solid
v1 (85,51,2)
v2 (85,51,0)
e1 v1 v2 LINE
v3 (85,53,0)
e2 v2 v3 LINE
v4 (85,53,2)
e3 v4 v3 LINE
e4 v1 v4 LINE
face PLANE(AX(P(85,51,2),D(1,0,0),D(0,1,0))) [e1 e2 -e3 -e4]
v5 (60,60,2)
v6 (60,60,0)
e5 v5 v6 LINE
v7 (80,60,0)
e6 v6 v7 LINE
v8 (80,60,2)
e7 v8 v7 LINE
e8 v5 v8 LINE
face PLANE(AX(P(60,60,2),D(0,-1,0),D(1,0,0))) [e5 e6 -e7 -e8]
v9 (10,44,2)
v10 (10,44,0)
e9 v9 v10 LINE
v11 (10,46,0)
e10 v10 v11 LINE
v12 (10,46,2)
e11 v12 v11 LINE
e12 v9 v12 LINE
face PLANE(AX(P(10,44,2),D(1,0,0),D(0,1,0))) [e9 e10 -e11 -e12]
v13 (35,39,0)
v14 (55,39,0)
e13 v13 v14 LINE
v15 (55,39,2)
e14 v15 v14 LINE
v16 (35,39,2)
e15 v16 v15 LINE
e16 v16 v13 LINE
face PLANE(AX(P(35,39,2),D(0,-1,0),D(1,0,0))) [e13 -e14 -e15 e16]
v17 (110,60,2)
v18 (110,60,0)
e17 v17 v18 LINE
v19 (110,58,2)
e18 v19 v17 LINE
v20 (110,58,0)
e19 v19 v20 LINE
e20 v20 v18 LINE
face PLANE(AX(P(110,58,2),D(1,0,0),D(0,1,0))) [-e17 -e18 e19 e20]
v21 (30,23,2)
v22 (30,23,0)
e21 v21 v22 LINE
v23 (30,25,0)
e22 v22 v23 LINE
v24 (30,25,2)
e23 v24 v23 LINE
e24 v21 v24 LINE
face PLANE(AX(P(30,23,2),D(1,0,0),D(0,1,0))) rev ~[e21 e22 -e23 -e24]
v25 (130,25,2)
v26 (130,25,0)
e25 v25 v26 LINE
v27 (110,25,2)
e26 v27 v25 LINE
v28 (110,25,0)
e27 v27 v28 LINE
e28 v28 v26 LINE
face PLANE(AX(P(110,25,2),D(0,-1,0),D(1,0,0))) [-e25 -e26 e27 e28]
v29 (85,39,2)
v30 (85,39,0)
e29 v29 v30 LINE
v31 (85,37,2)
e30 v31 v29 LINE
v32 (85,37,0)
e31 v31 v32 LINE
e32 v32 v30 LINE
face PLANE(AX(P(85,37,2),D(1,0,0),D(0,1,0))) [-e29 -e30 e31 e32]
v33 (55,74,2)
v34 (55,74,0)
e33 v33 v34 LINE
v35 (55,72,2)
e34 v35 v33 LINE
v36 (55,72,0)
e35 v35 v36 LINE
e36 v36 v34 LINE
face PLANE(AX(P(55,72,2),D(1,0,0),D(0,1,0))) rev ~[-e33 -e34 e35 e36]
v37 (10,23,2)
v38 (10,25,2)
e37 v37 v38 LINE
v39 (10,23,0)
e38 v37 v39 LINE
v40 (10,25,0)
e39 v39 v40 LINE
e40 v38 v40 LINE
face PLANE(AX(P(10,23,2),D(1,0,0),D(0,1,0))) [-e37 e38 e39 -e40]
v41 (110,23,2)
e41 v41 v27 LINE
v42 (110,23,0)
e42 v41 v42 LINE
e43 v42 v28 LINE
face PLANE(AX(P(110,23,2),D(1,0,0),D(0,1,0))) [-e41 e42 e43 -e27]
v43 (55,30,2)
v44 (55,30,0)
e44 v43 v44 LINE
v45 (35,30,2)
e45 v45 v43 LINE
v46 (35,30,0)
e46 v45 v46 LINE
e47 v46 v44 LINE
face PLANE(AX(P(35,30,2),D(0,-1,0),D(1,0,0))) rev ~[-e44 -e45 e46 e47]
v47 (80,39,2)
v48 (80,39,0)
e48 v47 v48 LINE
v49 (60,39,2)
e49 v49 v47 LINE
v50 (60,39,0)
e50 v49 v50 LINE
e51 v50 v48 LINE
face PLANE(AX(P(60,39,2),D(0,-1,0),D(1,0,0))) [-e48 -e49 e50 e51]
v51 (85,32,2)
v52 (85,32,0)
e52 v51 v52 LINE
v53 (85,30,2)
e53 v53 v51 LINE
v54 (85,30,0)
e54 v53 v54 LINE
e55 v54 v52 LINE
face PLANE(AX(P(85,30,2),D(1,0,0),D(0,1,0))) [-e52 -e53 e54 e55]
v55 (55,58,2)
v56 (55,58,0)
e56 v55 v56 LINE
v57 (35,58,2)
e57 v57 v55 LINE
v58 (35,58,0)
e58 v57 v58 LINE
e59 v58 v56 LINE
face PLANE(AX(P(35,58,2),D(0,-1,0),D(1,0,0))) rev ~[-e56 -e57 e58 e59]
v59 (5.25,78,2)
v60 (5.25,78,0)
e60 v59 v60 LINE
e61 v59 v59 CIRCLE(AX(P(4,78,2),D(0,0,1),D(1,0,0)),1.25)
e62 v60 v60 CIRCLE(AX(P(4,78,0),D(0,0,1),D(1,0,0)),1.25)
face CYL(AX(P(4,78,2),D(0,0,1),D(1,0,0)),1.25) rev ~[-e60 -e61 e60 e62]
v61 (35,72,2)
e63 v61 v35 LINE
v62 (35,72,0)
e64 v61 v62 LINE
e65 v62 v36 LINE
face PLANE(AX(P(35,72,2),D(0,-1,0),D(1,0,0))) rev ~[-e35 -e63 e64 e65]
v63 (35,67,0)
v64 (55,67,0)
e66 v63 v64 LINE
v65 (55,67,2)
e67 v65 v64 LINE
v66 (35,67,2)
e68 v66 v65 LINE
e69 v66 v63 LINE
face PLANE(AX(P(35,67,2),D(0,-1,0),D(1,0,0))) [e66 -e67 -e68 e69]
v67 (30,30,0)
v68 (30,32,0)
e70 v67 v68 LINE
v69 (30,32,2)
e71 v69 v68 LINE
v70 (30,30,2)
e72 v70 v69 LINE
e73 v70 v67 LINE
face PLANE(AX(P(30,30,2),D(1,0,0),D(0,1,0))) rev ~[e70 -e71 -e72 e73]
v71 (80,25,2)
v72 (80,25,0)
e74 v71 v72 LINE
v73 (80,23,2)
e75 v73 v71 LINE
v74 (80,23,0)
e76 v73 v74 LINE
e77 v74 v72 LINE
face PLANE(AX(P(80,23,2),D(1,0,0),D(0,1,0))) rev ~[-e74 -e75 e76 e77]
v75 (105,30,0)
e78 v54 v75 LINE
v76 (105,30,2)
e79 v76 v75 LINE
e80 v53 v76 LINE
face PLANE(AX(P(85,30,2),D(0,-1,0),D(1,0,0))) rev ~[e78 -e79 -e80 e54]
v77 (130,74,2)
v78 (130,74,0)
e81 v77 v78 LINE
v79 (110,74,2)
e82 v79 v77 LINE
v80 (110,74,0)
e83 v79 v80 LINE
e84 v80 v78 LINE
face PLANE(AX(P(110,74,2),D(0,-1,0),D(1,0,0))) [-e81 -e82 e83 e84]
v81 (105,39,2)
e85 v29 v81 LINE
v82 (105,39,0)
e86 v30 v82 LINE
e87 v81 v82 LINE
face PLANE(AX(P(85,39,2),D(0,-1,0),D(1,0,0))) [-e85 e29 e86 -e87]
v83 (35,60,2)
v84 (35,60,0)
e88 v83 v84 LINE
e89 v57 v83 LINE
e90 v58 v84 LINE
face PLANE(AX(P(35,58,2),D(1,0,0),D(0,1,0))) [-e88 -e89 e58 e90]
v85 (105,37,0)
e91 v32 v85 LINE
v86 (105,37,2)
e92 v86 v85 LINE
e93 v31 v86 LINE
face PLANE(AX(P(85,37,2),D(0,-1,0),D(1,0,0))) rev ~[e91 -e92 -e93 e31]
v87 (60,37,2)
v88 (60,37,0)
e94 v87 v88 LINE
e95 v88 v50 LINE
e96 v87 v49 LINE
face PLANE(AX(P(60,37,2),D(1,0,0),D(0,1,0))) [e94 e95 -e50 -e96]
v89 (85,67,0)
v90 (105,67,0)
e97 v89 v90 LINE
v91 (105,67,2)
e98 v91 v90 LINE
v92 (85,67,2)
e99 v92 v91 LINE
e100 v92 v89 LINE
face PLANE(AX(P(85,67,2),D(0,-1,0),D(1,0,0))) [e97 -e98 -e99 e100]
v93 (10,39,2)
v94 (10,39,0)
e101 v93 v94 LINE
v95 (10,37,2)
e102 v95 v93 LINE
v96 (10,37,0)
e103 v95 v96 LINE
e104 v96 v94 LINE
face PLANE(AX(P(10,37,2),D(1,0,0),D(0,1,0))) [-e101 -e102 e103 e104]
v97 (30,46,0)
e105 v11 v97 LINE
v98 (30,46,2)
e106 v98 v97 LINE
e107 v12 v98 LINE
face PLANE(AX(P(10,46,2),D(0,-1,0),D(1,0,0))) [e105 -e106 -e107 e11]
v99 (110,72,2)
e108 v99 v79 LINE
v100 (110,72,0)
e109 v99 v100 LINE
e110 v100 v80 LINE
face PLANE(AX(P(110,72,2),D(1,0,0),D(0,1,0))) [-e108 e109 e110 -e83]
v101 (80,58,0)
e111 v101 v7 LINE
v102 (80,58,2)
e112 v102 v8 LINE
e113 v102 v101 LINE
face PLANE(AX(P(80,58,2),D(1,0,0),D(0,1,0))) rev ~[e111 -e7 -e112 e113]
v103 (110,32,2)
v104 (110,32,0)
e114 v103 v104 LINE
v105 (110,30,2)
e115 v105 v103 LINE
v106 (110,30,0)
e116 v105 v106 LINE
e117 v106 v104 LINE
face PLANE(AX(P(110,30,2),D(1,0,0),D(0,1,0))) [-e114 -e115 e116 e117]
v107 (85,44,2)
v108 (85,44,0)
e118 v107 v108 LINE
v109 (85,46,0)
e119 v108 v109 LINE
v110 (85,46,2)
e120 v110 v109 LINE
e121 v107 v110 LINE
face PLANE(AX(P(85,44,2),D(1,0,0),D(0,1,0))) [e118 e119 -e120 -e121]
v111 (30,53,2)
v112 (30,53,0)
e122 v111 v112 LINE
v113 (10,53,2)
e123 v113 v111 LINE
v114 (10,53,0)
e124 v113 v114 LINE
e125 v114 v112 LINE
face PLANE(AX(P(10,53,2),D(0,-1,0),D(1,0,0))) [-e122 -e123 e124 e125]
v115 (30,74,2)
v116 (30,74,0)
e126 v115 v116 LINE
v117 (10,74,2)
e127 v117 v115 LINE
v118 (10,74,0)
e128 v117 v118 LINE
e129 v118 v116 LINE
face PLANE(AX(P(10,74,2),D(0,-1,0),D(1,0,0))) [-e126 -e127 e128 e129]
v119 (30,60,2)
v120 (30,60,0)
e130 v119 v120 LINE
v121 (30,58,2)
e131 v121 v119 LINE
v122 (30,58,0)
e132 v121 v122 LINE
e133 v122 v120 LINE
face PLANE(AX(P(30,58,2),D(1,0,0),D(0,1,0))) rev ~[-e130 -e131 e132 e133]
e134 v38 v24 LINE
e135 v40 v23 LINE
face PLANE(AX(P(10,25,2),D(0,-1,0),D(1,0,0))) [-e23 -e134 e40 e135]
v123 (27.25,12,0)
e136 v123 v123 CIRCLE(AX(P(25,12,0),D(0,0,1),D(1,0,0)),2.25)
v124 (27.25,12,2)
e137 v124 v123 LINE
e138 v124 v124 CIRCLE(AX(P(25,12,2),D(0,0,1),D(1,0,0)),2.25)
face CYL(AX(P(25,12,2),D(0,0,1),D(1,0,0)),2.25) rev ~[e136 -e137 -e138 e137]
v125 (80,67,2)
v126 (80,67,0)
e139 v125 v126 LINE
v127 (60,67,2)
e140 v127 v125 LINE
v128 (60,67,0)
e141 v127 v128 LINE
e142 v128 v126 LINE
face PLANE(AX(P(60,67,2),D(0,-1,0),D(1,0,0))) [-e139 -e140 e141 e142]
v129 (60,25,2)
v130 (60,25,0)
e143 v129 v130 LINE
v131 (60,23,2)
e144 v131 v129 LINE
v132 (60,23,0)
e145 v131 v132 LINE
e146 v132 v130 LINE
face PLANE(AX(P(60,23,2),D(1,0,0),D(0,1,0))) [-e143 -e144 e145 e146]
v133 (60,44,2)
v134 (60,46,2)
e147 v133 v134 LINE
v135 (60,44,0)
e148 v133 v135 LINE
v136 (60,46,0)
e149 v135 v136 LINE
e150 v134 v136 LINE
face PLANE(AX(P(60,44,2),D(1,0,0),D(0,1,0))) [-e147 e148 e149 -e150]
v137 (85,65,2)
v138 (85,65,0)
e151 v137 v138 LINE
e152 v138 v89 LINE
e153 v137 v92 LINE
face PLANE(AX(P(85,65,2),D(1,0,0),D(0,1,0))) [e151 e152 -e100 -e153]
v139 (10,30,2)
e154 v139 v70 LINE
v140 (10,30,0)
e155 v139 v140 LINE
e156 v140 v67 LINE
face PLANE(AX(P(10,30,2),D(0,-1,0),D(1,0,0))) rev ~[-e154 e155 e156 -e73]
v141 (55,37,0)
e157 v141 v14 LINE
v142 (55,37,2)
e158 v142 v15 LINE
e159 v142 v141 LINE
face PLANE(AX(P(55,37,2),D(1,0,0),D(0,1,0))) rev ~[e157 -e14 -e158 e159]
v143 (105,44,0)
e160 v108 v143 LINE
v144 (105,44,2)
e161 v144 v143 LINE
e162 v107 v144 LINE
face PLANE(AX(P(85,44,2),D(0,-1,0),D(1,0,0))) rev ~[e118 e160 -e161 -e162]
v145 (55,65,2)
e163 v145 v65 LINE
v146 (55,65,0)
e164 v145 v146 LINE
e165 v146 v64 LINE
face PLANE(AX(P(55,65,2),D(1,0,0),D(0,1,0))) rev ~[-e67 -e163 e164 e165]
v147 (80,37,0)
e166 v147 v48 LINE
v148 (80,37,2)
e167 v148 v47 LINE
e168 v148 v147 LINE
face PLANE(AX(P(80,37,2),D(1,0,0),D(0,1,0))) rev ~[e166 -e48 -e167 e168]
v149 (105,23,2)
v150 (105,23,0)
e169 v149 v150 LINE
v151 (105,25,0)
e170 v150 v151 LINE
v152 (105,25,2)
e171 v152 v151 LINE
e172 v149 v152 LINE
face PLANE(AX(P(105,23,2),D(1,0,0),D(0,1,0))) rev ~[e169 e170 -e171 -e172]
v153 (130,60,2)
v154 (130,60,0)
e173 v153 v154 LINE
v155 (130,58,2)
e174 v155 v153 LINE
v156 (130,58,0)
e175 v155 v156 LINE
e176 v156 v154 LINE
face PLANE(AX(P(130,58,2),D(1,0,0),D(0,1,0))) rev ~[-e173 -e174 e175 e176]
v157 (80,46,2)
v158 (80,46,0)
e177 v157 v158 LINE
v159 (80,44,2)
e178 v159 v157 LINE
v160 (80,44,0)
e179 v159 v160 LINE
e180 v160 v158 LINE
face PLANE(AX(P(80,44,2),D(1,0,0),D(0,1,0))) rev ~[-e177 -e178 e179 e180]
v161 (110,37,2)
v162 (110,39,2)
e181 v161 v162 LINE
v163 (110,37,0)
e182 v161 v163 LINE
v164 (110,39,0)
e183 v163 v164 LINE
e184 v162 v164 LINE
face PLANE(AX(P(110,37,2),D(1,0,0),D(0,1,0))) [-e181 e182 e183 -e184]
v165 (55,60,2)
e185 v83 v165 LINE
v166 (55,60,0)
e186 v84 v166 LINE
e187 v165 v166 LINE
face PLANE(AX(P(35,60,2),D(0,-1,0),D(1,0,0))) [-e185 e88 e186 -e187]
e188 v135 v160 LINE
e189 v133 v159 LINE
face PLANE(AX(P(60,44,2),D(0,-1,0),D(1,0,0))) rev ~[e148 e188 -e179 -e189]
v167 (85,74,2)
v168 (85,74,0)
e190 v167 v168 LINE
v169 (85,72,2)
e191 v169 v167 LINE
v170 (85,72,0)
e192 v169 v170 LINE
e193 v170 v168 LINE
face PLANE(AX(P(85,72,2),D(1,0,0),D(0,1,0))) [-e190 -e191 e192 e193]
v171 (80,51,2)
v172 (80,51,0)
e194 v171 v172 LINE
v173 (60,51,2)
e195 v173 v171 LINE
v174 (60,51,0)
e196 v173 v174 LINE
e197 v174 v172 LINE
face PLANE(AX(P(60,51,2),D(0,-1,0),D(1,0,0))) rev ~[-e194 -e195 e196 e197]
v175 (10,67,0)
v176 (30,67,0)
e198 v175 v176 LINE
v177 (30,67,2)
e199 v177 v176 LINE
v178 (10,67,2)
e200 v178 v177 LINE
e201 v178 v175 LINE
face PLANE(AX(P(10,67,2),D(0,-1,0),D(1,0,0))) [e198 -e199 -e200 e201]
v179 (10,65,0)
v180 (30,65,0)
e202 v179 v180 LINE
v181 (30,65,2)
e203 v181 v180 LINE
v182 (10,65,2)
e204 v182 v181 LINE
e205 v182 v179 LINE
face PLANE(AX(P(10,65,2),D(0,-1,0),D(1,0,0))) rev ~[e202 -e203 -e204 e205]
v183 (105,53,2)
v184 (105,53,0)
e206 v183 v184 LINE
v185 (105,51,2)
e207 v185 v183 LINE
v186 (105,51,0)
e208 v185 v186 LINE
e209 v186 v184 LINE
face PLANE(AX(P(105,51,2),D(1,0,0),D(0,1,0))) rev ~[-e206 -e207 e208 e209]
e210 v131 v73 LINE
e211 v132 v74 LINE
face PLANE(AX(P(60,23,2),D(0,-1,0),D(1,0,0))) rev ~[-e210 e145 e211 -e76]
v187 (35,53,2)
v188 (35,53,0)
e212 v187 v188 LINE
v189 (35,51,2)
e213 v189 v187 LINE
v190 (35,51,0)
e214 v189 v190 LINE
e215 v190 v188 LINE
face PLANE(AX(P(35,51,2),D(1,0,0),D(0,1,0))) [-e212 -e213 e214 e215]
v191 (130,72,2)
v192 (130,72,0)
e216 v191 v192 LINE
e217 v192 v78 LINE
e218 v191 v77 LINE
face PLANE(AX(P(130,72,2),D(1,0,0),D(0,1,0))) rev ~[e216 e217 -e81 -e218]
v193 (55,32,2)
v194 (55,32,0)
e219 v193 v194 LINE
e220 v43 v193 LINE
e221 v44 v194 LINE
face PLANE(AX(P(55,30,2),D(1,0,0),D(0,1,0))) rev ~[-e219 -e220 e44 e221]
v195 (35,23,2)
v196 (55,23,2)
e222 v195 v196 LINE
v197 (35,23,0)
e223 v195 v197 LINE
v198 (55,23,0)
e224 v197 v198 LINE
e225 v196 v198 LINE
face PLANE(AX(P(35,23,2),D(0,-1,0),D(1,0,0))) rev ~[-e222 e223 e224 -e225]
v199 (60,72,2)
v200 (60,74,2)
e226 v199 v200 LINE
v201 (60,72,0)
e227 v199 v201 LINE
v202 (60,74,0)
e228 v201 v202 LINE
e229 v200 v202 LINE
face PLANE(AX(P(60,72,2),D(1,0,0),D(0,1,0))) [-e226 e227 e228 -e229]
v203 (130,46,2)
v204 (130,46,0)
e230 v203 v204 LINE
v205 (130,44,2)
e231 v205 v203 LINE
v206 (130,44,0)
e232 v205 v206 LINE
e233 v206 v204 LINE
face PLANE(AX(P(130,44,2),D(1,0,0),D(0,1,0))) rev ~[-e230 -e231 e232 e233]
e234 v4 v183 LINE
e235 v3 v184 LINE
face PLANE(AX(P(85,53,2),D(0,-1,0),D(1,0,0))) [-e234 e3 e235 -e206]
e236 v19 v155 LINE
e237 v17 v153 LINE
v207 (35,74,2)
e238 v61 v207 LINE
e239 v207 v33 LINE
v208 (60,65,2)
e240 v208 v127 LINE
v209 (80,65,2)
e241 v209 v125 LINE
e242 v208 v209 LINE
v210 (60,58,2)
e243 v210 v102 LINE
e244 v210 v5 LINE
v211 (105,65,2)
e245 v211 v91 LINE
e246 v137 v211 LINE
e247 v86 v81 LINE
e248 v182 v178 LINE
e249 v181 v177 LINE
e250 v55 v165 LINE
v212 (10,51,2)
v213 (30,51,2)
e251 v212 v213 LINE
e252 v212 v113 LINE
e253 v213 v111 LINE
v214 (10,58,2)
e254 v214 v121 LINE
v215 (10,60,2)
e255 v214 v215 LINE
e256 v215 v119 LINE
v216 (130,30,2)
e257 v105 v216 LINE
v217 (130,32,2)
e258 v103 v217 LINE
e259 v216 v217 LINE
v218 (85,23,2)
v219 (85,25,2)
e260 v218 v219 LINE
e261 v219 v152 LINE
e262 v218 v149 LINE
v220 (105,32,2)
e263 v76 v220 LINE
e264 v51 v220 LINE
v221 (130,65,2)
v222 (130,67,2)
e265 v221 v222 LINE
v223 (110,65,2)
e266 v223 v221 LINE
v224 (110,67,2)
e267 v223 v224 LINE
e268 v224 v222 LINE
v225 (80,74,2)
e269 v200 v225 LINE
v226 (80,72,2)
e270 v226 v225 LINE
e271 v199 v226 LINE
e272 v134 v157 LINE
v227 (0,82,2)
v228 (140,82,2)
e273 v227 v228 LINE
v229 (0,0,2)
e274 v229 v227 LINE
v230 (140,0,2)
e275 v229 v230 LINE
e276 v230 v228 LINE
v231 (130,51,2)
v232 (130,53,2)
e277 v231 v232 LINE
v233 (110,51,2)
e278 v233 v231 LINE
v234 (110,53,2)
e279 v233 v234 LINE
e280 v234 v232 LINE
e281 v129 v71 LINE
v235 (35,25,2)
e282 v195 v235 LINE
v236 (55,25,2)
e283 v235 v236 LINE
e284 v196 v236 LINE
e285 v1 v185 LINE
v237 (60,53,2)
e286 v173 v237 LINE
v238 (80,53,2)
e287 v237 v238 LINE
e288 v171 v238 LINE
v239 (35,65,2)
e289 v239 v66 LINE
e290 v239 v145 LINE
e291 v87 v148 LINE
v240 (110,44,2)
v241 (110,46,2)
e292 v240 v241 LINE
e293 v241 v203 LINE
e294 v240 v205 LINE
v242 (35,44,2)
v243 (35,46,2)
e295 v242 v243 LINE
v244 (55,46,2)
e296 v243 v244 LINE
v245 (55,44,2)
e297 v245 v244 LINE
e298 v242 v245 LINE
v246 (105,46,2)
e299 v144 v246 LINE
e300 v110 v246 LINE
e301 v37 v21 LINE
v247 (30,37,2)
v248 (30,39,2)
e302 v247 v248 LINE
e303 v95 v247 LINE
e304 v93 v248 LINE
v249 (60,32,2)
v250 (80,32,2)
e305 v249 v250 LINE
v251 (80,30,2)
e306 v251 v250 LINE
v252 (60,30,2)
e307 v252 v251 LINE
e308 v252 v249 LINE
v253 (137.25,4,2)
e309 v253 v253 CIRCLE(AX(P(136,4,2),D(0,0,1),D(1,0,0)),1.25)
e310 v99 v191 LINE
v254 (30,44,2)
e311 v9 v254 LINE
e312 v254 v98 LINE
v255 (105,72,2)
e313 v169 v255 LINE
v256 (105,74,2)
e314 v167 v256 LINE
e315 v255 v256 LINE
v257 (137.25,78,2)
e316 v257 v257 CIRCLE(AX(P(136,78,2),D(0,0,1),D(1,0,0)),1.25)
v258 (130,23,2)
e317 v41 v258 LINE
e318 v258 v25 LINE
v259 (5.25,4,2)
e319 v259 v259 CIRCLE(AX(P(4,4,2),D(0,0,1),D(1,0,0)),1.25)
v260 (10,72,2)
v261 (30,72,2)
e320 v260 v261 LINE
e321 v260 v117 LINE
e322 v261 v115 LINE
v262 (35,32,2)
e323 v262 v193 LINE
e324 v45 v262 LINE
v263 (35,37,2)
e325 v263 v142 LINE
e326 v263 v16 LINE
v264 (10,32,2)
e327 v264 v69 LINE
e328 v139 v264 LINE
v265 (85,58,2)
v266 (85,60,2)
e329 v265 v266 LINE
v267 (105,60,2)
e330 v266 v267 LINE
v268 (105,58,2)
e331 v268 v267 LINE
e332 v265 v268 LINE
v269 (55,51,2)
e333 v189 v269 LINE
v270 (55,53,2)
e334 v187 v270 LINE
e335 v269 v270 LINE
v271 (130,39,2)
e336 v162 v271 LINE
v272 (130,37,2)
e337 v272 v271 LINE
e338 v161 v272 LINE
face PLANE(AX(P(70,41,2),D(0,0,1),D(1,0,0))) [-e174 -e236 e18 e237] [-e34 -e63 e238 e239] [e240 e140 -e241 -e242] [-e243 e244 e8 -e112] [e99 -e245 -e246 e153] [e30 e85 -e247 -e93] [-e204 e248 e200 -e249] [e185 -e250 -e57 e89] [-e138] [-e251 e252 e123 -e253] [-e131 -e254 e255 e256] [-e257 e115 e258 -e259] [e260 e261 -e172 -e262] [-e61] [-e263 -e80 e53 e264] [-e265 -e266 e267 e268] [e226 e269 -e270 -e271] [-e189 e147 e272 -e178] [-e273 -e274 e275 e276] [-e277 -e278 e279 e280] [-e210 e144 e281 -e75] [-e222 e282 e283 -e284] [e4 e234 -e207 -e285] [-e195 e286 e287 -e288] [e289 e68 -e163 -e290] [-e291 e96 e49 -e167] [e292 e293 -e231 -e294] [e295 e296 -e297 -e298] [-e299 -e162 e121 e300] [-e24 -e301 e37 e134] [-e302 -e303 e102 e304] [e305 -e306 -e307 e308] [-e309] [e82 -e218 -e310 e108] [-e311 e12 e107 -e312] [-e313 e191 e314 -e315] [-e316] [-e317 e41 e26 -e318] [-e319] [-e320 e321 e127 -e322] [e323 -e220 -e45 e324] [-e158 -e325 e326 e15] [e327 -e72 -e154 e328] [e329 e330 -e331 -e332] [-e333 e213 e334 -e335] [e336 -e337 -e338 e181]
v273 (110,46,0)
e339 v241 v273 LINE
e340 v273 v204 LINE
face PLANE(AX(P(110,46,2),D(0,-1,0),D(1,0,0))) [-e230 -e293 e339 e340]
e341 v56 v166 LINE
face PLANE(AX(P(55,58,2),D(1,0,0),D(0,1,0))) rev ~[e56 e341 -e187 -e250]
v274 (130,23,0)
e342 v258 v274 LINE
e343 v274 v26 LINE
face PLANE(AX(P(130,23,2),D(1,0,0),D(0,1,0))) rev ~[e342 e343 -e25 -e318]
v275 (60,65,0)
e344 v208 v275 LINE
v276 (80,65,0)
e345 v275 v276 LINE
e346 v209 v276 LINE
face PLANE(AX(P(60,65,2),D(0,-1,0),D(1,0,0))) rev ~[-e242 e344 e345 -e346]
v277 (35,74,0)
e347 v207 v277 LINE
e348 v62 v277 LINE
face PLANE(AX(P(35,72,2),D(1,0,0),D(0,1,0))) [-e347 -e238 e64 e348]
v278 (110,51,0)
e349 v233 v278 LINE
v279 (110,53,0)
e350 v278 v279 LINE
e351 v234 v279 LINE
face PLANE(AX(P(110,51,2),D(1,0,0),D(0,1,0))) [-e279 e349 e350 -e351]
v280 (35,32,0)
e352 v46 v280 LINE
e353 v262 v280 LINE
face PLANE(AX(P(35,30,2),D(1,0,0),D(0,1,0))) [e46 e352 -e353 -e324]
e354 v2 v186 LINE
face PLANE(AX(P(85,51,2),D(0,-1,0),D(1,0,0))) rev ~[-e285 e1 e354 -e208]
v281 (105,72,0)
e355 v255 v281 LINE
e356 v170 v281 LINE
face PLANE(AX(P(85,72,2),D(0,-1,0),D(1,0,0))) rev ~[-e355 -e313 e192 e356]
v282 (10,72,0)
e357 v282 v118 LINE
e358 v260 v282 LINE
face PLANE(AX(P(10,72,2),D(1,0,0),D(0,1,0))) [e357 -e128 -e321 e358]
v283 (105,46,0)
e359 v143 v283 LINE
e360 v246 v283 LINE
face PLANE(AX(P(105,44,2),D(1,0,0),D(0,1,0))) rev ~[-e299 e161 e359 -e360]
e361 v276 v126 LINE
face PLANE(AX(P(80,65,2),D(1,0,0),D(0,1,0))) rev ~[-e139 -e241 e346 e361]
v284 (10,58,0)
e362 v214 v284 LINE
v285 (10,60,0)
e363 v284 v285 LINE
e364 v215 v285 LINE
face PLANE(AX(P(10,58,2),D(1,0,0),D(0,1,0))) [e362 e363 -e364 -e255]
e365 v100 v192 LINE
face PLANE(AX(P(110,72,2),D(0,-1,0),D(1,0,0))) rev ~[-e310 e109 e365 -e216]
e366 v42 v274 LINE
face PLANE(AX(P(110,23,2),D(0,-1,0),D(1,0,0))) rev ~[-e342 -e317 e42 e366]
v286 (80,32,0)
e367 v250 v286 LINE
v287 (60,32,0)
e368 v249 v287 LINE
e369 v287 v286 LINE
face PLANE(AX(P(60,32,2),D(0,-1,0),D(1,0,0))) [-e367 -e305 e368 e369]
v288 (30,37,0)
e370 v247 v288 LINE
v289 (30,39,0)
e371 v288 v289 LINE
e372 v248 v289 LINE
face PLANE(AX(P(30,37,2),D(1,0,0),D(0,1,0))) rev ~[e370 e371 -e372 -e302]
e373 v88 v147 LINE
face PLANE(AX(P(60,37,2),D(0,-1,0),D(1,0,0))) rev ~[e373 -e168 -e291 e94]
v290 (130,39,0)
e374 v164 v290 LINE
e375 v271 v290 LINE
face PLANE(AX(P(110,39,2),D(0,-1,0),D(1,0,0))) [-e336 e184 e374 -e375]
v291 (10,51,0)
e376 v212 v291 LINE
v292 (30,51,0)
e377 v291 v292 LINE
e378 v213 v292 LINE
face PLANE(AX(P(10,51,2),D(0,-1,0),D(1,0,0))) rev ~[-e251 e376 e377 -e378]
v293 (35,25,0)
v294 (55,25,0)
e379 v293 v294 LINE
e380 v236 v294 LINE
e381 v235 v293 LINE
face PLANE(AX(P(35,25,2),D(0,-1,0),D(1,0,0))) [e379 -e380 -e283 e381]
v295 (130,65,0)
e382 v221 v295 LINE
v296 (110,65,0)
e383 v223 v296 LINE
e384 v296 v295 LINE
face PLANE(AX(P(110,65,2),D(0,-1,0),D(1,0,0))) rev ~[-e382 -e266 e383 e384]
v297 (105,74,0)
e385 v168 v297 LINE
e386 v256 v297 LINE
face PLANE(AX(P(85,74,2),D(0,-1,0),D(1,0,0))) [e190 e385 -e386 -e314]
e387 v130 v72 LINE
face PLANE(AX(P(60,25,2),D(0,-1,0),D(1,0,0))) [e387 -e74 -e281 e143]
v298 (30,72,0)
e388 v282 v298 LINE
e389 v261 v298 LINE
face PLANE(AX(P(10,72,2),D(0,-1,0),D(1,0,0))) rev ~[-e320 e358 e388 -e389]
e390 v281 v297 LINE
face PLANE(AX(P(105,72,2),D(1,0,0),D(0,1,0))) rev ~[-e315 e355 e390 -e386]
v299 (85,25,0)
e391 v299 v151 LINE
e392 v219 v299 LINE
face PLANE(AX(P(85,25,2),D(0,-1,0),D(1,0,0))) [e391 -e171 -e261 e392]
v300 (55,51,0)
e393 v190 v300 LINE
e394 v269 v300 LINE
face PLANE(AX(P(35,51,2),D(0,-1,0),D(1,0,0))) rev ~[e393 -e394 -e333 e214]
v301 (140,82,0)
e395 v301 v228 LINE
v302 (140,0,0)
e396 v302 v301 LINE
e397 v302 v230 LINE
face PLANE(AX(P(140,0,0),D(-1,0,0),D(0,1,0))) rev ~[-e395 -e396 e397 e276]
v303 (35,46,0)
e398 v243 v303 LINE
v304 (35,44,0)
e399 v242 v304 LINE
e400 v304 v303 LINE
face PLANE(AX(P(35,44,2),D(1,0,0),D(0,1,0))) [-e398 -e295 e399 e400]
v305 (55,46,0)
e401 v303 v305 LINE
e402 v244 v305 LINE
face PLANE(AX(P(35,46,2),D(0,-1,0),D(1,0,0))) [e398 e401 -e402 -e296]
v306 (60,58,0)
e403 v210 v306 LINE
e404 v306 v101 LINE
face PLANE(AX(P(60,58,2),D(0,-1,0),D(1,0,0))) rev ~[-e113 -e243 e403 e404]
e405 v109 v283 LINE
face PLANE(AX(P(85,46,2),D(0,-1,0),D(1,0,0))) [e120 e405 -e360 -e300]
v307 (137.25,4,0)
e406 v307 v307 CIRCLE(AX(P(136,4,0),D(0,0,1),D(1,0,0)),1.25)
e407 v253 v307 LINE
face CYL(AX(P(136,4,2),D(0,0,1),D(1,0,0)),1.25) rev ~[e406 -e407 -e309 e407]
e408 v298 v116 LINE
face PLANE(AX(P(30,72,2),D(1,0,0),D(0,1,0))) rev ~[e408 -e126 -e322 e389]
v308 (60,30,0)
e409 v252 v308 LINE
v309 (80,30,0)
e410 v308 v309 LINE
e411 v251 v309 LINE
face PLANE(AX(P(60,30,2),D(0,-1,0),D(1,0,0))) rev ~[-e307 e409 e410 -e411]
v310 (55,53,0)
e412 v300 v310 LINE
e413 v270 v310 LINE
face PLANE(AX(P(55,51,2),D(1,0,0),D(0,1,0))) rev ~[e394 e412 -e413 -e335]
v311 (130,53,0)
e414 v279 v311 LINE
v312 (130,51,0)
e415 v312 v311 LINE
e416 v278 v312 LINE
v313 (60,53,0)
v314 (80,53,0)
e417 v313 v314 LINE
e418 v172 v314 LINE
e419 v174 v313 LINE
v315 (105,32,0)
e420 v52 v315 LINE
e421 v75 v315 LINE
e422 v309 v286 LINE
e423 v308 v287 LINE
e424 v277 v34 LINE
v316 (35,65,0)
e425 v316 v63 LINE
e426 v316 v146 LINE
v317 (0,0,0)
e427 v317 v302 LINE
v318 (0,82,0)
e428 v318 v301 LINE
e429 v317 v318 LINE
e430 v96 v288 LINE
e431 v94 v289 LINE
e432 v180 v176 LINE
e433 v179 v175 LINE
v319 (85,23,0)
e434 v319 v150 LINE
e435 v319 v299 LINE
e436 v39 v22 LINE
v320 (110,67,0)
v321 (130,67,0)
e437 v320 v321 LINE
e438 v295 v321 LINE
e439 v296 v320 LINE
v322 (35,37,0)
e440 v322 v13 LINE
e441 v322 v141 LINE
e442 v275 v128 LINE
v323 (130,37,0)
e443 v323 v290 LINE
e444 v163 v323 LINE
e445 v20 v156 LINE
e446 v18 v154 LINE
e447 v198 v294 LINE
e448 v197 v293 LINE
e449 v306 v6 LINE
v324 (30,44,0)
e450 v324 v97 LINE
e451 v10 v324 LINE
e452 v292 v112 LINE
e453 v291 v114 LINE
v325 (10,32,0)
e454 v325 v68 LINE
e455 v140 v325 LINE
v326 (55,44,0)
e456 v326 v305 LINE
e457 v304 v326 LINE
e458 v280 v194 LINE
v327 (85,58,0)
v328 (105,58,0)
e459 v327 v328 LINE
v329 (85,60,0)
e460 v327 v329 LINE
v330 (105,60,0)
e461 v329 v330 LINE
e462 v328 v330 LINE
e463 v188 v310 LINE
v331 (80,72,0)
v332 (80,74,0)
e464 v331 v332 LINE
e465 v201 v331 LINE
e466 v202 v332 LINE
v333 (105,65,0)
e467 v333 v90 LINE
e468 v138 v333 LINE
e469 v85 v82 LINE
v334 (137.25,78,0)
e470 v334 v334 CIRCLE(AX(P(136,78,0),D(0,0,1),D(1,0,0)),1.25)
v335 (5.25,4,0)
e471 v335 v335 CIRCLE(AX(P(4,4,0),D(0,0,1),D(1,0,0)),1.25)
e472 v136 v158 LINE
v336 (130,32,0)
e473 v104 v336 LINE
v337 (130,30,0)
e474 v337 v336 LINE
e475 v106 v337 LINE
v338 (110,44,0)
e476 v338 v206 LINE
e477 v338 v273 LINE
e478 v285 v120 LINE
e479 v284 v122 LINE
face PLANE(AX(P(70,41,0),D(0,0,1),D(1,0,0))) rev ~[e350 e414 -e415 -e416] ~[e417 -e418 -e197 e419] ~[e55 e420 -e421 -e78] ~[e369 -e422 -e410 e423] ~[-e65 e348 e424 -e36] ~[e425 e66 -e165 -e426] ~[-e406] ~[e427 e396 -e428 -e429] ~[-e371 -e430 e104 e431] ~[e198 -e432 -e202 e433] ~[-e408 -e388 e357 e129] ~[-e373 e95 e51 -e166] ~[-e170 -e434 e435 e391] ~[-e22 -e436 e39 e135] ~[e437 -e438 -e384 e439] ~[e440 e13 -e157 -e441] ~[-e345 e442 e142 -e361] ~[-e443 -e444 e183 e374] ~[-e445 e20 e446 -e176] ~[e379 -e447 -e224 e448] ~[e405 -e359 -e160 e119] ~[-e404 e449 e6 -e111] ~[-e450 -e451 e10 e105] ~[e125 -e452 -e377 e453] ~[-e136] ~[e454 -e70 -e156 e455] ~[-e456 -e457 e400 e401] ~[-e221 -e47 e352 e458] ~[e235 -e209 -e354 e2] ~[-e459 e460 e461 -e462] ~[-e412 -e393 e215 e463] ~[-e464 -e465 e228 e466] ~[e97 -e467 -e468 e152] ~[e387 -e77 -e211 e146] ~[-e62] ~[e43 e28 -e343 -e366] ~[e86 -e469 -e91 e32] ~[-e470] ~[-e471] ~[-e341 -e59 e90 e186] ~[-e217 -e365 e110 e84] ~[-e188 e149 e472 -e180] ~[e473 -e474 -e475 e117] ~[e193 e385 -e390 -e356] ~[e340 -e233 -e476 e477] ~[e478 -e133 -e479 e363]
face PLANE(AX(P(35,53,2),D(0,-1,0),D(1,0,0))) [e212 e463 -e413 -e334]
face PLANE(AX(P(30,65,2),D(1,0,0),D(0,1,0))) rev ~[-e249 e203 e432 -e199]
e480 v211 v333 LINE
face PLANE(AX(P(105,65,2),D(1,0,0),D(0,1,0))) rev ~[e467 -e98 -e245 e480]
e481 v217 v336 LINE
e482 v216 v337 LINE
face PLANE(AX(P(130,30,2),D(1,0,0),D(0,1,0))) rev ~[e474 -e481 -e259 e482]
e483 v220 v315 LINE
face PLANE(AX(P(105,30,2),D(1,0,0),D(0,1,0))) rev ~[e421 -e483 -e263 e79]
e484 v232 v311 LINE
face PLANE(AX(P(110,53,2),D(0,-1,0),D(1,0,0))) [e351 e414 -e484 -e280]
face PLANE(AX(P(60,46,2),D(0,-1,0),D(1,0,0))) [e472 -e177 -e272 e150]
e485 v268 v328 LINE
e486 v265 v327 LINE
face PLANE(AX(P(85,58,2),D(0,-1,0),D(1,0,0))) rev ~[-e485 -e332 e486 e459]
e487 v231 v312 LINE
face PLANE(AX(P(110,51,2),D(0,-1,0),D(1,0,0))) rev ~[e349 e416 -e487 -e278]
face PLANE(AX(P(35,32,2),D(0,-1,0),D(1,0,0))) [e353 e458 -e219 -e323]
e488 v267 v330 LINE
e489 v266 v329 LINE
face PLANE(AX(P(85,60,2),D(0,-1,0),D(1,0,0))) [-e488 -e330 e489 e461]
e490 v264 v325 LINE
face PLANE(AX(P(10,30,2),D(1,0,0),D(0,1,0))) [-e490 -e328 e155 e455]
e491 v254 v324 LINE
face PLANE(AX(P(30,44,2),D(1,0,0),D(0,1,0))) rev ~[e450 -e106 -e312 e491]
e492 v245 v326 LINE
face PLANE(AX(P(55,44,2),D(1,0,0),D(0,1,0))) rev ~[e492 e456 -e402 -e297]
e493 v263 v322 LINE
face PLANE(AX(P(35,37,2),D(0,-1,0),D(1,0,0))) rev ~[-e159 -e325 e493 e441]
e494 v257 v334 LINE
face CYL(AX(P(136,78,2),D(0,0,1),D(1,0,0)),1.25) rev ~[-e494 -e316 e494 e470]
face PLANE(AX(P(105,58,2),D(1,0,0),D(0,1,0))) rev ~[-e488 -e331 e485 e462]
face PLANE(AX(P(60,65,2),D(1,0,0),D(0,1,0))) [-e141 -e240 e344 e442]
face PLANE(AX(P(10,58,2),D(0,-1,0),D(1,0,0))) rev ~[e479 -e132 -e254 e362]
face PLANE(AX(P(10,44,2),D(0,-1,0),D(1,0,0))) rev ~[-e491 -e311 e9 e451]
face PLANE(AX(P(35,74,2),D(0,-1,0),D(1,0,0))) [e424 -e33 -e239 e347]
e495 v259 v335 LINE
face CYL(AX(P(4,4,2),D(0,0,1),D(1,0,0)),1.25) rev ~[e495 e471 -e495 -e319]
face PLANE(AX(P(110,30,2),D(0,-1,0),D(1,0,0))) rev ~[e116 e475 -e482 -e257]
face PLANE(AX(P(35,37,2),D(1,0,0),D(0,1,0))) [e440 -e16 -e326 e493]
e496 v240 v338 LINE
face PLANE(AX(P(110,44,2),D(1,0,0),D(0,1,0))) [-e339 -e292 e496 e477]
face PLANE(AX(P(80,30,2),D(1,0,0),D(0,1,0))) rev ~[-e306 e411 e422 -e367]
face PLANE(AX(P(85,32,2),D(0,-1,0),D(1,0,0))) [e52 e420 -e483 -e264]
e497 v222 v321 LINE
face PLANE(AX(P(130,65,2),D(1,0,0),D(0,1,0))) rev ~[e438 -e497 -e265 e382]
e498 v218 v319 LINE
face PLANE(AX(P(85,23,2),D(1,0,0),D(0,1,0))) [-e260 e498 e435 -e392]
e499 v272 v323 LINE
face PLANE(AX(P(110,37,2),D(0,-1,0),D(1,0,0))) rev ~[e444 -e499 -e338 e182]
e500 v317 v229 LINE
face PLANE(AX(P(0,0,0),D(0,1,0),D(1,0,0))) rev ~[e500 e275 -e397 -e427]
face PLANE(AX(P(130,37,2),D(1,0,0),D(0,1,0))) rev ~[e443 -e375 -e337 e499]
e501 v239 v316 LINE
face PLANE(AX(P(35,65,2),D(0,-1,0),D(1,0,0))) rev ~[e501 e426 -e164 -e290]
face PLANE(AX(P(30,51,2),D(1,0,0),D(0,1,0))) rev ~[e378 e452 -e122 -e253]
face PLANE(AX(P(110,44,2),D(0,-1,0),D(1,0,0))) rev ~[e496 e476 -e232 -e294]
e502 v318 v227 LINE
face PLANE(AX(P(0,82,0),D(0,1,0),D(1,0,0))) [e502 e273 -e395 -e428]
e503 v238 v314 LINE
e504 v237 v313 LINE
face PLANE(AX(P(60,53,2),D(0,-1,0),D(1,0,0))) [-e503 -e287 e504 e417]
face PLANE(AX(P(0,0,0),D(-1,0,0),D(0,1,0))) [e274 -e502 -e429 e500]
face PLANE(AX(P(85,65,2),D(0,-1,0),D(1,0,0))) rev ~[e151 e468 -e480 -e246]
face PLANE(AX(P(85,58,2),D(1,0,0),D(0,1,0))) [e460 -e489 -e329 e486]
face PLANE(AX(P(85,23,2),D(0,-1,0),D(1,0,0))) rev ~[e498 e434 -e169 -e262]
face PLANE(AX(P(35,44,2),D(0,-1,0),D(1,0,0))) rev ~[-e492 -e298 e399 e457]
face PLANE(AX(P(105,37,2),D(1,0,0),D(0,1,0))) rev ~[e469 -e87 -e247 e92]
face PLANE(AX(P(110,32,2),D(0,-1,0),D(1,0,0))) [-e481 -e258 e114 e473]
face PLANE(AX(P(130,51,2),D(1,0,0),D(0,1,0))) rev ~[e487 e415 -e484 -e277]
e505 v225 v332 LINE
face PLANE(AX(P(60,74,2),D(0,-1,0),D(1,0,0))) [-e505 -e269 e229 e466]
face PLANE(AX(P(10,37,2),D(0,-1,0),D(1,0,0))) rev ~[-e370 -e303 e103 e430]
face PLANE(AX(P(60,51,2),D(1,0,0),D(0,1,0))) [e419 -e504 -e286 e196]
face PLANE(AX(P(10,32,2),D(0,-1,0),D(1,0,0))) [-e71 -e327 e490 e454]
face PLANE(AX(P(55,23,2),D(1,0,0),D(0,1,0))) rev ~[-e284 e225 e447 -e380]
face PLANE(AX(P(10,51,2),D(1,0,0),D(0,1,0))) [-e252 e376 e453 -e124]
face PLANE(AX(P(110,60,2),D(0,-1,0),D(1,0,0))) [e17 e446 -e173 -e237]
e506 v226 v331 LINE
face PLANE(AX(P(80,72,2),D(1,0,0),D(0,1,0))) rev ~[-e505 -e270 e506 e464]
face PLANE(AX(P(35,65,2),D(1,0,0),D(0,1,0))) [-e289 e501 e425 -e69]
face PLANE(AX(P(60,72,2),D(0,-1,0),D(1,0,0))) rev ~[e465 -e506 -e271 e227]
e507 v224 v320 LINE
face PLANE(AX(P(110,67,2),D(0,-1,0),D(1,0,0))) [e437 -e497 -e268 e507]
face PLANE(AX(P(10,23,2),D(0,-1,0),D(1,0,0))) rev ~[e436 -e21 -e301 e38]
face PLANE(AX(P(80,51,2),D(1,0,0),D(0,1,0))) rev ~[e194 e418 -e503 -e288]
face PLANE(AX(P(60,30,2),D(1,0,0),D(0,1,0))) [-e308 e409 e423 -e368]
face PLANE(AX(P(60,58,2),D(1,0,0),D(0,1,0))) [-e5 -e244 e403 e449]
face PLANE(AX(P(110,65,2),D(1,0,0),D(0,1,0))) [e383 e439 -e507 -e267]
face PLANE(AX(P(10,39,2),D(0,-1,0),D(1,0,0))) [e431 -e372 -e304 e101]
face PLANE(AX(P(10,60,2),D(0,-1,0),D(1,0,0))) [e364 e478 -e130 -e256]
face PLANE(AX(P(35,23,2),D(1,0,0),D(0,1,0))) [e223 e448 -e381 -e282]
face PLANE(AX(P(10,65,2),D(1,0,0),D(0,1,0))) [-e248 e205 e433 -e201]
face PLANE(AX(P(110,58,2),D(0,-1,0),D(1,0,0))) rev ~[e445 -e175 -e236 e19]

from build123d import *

# Parameters (mm, degrees)
SKETCH_W      = 140
SKETCH_H      = 82
PAD_DEPTH     = 2
SKETCH001_R   = 1.25
SKETCH001_R_2 = 2.25
SKETCH001_W   = 20
SKETCH001_H   = 2
POCKET_DEPTH  = 2


with BuildPart() as part:
    # Sketch → Pad (new body)
    with BuildSketch(Plane.XY):
        with Locations((70, 41)):
            Rectangle(SKETCH_W, SKETCH_H)
    extrude(amount=PAD_DEPTH)

    # Sketch001 (on Face6 of Pad) → Pocket (cut)
    with BuildSketch(Plane.XY.offset(2)):
        with Locations((4, 78)):
            Circle(SKETCH001_R)
        with Locations((136, 78)):
            Circle(SKETCH001_R)
        with Locations((136, 4)):
            Circle(SKETCH001_R)
        with Locations((4, 4)):
            Circle(SKETCH001_R)
        with Locations((25, 12)):
            Circle(SKETCH001_R_2)
        with Locations((20, 73)):
            Rectangle(SKETCH001_W, SKETCH001_H)
        with Locations((45, 73)):
            Rectangle(SKETCH001_W, SKETCH001_H)
        with Locations((70, 73)):
            Rectangle(SKETCH001_W, SKETCH001_H)
        with Locations((95, 73)):
            Rectangle(SKETCH001_W, SKETCH001_H)
        with Locations((120, 73)):
            Rectangle(SKETCH001_W, SKETCH001_H)
        with Locations((20, 66)):
            Rectangle(SKETCH001_W, SKETCH001_H)
        with Locations((45, 66)):
            Rectangle(SKETCH001_W, SKETCH001_H)
        with Locations((70, 66)):
            Rectangle(SKETCH001_W, SKETCH001_H)
        with Locations((95, 66)):
            Rectangle(SKETCH001_W, SKETCH001_H)
        with Locations((120, 66)):
            Rectangle(SKETCH001_W, SKETCH001_H)
        with Locations((20, 59)):
            Rectangle(SKETCH001_W, SKETCH001_H)
        with Locations((45, 59)):
            Rectangle(SKETCH001_W, SKETCH001_H)
        with Locations((70, 59)):
            Rectangle(SKETCH001_W, SKETCH001_H)
        with Locations((95, 59)):
            Rectangle(SKETCH001_W, SKETCH001_H)
        with Locations((120, 59)):
            Rectangle(SKETCH001_W, SKETCH001_H)
        with Locations((20, 52)):
            Rectangle(SKETCH001_W, SKETCH001_H)
        with Locations((45, 52)):
            Rectangle(SKETCH001_W, SKETCH001_H)
        with Locations((70, 52)):
            Rectangle(SKETCH001_W, SKETCH001_H)
        with Locations((95, 52)):
            Rectangle(SKETCH001_W, SKETCH001_H)
        with Locations((120, 52)):
            Rectangle(SKETCH001_W, SKETCH001_H)
        with Locations((20, 45)):
            Rectangle(SKETCH001_W, SKETCH001_H)
        with Locations((45, 45)):
            Rectangle(SKETCH001_W, SKETCH001_H)
        with Locations((70, 45)):
            Rectangle(SKETCH001_W, SKETCH001_H)
        with Locations((95, 45)):
            Rectangle(SKETCH001_W, SKETCH001_H)
        with Locations((120, 45)):
            Rectangle(SKETCH001_W, SKETCH001_H)
        with Locations((20, 38)):
            Rectangle(SKETCH001_W, SKETCH001_H)
        with Locations((45, 38)):
            Rectangle(SKETCH001_W, SKETCH001_H)
        with Locations((70, 38)):
            Rectangle(SKETCH001_W, SKETCH001_H)
        with Locations((95, 38)):
            Rectangle(SKETCH001_W, SKETCH001_H)
        with Locations((120, 38)):
            Rectangle(SKETCH001_W, SKETCH001_H)
        with Locations((20, 31)):
            Rectangle(SKETCH001_W, SKETCH001_H)
        with Locations((45, 31)):
            Rectangle(SKETCH001_W, SKETCH001_H)
        with Locations((70, 31)):
            Rectangle(SKETCH001_W, SKETCH001_H)
        with Locations((95, 31)):
            Rectangle(SKETCH001_W, SKETCH001_H)
        with Locations((120, 31)):
            Rectangle(SKETCH001_W, SKETCH001_H)
        with Locations((20, 24)):
            Rectangle(SKETCH001_W, SKETCH001_H)
        with Locations((45, 24)):
            Rectangle(SKETCH001_W, SKETCH001_H)
        with Locations((70, 24)):
            Rectangle(SKETCH001_W, SKETCH001_H)
        with Locations((95, 24)):
            Rectangle(SKETCH001_W, SKETCH001_H)
        with Locations((120, 24)):
            Rectangle(SKETCH001_W, SKETCH001_H)
    extrude(amount=-POCKET_DEPTH, mode=Mode.SUBTRACT)


solid = part.part
